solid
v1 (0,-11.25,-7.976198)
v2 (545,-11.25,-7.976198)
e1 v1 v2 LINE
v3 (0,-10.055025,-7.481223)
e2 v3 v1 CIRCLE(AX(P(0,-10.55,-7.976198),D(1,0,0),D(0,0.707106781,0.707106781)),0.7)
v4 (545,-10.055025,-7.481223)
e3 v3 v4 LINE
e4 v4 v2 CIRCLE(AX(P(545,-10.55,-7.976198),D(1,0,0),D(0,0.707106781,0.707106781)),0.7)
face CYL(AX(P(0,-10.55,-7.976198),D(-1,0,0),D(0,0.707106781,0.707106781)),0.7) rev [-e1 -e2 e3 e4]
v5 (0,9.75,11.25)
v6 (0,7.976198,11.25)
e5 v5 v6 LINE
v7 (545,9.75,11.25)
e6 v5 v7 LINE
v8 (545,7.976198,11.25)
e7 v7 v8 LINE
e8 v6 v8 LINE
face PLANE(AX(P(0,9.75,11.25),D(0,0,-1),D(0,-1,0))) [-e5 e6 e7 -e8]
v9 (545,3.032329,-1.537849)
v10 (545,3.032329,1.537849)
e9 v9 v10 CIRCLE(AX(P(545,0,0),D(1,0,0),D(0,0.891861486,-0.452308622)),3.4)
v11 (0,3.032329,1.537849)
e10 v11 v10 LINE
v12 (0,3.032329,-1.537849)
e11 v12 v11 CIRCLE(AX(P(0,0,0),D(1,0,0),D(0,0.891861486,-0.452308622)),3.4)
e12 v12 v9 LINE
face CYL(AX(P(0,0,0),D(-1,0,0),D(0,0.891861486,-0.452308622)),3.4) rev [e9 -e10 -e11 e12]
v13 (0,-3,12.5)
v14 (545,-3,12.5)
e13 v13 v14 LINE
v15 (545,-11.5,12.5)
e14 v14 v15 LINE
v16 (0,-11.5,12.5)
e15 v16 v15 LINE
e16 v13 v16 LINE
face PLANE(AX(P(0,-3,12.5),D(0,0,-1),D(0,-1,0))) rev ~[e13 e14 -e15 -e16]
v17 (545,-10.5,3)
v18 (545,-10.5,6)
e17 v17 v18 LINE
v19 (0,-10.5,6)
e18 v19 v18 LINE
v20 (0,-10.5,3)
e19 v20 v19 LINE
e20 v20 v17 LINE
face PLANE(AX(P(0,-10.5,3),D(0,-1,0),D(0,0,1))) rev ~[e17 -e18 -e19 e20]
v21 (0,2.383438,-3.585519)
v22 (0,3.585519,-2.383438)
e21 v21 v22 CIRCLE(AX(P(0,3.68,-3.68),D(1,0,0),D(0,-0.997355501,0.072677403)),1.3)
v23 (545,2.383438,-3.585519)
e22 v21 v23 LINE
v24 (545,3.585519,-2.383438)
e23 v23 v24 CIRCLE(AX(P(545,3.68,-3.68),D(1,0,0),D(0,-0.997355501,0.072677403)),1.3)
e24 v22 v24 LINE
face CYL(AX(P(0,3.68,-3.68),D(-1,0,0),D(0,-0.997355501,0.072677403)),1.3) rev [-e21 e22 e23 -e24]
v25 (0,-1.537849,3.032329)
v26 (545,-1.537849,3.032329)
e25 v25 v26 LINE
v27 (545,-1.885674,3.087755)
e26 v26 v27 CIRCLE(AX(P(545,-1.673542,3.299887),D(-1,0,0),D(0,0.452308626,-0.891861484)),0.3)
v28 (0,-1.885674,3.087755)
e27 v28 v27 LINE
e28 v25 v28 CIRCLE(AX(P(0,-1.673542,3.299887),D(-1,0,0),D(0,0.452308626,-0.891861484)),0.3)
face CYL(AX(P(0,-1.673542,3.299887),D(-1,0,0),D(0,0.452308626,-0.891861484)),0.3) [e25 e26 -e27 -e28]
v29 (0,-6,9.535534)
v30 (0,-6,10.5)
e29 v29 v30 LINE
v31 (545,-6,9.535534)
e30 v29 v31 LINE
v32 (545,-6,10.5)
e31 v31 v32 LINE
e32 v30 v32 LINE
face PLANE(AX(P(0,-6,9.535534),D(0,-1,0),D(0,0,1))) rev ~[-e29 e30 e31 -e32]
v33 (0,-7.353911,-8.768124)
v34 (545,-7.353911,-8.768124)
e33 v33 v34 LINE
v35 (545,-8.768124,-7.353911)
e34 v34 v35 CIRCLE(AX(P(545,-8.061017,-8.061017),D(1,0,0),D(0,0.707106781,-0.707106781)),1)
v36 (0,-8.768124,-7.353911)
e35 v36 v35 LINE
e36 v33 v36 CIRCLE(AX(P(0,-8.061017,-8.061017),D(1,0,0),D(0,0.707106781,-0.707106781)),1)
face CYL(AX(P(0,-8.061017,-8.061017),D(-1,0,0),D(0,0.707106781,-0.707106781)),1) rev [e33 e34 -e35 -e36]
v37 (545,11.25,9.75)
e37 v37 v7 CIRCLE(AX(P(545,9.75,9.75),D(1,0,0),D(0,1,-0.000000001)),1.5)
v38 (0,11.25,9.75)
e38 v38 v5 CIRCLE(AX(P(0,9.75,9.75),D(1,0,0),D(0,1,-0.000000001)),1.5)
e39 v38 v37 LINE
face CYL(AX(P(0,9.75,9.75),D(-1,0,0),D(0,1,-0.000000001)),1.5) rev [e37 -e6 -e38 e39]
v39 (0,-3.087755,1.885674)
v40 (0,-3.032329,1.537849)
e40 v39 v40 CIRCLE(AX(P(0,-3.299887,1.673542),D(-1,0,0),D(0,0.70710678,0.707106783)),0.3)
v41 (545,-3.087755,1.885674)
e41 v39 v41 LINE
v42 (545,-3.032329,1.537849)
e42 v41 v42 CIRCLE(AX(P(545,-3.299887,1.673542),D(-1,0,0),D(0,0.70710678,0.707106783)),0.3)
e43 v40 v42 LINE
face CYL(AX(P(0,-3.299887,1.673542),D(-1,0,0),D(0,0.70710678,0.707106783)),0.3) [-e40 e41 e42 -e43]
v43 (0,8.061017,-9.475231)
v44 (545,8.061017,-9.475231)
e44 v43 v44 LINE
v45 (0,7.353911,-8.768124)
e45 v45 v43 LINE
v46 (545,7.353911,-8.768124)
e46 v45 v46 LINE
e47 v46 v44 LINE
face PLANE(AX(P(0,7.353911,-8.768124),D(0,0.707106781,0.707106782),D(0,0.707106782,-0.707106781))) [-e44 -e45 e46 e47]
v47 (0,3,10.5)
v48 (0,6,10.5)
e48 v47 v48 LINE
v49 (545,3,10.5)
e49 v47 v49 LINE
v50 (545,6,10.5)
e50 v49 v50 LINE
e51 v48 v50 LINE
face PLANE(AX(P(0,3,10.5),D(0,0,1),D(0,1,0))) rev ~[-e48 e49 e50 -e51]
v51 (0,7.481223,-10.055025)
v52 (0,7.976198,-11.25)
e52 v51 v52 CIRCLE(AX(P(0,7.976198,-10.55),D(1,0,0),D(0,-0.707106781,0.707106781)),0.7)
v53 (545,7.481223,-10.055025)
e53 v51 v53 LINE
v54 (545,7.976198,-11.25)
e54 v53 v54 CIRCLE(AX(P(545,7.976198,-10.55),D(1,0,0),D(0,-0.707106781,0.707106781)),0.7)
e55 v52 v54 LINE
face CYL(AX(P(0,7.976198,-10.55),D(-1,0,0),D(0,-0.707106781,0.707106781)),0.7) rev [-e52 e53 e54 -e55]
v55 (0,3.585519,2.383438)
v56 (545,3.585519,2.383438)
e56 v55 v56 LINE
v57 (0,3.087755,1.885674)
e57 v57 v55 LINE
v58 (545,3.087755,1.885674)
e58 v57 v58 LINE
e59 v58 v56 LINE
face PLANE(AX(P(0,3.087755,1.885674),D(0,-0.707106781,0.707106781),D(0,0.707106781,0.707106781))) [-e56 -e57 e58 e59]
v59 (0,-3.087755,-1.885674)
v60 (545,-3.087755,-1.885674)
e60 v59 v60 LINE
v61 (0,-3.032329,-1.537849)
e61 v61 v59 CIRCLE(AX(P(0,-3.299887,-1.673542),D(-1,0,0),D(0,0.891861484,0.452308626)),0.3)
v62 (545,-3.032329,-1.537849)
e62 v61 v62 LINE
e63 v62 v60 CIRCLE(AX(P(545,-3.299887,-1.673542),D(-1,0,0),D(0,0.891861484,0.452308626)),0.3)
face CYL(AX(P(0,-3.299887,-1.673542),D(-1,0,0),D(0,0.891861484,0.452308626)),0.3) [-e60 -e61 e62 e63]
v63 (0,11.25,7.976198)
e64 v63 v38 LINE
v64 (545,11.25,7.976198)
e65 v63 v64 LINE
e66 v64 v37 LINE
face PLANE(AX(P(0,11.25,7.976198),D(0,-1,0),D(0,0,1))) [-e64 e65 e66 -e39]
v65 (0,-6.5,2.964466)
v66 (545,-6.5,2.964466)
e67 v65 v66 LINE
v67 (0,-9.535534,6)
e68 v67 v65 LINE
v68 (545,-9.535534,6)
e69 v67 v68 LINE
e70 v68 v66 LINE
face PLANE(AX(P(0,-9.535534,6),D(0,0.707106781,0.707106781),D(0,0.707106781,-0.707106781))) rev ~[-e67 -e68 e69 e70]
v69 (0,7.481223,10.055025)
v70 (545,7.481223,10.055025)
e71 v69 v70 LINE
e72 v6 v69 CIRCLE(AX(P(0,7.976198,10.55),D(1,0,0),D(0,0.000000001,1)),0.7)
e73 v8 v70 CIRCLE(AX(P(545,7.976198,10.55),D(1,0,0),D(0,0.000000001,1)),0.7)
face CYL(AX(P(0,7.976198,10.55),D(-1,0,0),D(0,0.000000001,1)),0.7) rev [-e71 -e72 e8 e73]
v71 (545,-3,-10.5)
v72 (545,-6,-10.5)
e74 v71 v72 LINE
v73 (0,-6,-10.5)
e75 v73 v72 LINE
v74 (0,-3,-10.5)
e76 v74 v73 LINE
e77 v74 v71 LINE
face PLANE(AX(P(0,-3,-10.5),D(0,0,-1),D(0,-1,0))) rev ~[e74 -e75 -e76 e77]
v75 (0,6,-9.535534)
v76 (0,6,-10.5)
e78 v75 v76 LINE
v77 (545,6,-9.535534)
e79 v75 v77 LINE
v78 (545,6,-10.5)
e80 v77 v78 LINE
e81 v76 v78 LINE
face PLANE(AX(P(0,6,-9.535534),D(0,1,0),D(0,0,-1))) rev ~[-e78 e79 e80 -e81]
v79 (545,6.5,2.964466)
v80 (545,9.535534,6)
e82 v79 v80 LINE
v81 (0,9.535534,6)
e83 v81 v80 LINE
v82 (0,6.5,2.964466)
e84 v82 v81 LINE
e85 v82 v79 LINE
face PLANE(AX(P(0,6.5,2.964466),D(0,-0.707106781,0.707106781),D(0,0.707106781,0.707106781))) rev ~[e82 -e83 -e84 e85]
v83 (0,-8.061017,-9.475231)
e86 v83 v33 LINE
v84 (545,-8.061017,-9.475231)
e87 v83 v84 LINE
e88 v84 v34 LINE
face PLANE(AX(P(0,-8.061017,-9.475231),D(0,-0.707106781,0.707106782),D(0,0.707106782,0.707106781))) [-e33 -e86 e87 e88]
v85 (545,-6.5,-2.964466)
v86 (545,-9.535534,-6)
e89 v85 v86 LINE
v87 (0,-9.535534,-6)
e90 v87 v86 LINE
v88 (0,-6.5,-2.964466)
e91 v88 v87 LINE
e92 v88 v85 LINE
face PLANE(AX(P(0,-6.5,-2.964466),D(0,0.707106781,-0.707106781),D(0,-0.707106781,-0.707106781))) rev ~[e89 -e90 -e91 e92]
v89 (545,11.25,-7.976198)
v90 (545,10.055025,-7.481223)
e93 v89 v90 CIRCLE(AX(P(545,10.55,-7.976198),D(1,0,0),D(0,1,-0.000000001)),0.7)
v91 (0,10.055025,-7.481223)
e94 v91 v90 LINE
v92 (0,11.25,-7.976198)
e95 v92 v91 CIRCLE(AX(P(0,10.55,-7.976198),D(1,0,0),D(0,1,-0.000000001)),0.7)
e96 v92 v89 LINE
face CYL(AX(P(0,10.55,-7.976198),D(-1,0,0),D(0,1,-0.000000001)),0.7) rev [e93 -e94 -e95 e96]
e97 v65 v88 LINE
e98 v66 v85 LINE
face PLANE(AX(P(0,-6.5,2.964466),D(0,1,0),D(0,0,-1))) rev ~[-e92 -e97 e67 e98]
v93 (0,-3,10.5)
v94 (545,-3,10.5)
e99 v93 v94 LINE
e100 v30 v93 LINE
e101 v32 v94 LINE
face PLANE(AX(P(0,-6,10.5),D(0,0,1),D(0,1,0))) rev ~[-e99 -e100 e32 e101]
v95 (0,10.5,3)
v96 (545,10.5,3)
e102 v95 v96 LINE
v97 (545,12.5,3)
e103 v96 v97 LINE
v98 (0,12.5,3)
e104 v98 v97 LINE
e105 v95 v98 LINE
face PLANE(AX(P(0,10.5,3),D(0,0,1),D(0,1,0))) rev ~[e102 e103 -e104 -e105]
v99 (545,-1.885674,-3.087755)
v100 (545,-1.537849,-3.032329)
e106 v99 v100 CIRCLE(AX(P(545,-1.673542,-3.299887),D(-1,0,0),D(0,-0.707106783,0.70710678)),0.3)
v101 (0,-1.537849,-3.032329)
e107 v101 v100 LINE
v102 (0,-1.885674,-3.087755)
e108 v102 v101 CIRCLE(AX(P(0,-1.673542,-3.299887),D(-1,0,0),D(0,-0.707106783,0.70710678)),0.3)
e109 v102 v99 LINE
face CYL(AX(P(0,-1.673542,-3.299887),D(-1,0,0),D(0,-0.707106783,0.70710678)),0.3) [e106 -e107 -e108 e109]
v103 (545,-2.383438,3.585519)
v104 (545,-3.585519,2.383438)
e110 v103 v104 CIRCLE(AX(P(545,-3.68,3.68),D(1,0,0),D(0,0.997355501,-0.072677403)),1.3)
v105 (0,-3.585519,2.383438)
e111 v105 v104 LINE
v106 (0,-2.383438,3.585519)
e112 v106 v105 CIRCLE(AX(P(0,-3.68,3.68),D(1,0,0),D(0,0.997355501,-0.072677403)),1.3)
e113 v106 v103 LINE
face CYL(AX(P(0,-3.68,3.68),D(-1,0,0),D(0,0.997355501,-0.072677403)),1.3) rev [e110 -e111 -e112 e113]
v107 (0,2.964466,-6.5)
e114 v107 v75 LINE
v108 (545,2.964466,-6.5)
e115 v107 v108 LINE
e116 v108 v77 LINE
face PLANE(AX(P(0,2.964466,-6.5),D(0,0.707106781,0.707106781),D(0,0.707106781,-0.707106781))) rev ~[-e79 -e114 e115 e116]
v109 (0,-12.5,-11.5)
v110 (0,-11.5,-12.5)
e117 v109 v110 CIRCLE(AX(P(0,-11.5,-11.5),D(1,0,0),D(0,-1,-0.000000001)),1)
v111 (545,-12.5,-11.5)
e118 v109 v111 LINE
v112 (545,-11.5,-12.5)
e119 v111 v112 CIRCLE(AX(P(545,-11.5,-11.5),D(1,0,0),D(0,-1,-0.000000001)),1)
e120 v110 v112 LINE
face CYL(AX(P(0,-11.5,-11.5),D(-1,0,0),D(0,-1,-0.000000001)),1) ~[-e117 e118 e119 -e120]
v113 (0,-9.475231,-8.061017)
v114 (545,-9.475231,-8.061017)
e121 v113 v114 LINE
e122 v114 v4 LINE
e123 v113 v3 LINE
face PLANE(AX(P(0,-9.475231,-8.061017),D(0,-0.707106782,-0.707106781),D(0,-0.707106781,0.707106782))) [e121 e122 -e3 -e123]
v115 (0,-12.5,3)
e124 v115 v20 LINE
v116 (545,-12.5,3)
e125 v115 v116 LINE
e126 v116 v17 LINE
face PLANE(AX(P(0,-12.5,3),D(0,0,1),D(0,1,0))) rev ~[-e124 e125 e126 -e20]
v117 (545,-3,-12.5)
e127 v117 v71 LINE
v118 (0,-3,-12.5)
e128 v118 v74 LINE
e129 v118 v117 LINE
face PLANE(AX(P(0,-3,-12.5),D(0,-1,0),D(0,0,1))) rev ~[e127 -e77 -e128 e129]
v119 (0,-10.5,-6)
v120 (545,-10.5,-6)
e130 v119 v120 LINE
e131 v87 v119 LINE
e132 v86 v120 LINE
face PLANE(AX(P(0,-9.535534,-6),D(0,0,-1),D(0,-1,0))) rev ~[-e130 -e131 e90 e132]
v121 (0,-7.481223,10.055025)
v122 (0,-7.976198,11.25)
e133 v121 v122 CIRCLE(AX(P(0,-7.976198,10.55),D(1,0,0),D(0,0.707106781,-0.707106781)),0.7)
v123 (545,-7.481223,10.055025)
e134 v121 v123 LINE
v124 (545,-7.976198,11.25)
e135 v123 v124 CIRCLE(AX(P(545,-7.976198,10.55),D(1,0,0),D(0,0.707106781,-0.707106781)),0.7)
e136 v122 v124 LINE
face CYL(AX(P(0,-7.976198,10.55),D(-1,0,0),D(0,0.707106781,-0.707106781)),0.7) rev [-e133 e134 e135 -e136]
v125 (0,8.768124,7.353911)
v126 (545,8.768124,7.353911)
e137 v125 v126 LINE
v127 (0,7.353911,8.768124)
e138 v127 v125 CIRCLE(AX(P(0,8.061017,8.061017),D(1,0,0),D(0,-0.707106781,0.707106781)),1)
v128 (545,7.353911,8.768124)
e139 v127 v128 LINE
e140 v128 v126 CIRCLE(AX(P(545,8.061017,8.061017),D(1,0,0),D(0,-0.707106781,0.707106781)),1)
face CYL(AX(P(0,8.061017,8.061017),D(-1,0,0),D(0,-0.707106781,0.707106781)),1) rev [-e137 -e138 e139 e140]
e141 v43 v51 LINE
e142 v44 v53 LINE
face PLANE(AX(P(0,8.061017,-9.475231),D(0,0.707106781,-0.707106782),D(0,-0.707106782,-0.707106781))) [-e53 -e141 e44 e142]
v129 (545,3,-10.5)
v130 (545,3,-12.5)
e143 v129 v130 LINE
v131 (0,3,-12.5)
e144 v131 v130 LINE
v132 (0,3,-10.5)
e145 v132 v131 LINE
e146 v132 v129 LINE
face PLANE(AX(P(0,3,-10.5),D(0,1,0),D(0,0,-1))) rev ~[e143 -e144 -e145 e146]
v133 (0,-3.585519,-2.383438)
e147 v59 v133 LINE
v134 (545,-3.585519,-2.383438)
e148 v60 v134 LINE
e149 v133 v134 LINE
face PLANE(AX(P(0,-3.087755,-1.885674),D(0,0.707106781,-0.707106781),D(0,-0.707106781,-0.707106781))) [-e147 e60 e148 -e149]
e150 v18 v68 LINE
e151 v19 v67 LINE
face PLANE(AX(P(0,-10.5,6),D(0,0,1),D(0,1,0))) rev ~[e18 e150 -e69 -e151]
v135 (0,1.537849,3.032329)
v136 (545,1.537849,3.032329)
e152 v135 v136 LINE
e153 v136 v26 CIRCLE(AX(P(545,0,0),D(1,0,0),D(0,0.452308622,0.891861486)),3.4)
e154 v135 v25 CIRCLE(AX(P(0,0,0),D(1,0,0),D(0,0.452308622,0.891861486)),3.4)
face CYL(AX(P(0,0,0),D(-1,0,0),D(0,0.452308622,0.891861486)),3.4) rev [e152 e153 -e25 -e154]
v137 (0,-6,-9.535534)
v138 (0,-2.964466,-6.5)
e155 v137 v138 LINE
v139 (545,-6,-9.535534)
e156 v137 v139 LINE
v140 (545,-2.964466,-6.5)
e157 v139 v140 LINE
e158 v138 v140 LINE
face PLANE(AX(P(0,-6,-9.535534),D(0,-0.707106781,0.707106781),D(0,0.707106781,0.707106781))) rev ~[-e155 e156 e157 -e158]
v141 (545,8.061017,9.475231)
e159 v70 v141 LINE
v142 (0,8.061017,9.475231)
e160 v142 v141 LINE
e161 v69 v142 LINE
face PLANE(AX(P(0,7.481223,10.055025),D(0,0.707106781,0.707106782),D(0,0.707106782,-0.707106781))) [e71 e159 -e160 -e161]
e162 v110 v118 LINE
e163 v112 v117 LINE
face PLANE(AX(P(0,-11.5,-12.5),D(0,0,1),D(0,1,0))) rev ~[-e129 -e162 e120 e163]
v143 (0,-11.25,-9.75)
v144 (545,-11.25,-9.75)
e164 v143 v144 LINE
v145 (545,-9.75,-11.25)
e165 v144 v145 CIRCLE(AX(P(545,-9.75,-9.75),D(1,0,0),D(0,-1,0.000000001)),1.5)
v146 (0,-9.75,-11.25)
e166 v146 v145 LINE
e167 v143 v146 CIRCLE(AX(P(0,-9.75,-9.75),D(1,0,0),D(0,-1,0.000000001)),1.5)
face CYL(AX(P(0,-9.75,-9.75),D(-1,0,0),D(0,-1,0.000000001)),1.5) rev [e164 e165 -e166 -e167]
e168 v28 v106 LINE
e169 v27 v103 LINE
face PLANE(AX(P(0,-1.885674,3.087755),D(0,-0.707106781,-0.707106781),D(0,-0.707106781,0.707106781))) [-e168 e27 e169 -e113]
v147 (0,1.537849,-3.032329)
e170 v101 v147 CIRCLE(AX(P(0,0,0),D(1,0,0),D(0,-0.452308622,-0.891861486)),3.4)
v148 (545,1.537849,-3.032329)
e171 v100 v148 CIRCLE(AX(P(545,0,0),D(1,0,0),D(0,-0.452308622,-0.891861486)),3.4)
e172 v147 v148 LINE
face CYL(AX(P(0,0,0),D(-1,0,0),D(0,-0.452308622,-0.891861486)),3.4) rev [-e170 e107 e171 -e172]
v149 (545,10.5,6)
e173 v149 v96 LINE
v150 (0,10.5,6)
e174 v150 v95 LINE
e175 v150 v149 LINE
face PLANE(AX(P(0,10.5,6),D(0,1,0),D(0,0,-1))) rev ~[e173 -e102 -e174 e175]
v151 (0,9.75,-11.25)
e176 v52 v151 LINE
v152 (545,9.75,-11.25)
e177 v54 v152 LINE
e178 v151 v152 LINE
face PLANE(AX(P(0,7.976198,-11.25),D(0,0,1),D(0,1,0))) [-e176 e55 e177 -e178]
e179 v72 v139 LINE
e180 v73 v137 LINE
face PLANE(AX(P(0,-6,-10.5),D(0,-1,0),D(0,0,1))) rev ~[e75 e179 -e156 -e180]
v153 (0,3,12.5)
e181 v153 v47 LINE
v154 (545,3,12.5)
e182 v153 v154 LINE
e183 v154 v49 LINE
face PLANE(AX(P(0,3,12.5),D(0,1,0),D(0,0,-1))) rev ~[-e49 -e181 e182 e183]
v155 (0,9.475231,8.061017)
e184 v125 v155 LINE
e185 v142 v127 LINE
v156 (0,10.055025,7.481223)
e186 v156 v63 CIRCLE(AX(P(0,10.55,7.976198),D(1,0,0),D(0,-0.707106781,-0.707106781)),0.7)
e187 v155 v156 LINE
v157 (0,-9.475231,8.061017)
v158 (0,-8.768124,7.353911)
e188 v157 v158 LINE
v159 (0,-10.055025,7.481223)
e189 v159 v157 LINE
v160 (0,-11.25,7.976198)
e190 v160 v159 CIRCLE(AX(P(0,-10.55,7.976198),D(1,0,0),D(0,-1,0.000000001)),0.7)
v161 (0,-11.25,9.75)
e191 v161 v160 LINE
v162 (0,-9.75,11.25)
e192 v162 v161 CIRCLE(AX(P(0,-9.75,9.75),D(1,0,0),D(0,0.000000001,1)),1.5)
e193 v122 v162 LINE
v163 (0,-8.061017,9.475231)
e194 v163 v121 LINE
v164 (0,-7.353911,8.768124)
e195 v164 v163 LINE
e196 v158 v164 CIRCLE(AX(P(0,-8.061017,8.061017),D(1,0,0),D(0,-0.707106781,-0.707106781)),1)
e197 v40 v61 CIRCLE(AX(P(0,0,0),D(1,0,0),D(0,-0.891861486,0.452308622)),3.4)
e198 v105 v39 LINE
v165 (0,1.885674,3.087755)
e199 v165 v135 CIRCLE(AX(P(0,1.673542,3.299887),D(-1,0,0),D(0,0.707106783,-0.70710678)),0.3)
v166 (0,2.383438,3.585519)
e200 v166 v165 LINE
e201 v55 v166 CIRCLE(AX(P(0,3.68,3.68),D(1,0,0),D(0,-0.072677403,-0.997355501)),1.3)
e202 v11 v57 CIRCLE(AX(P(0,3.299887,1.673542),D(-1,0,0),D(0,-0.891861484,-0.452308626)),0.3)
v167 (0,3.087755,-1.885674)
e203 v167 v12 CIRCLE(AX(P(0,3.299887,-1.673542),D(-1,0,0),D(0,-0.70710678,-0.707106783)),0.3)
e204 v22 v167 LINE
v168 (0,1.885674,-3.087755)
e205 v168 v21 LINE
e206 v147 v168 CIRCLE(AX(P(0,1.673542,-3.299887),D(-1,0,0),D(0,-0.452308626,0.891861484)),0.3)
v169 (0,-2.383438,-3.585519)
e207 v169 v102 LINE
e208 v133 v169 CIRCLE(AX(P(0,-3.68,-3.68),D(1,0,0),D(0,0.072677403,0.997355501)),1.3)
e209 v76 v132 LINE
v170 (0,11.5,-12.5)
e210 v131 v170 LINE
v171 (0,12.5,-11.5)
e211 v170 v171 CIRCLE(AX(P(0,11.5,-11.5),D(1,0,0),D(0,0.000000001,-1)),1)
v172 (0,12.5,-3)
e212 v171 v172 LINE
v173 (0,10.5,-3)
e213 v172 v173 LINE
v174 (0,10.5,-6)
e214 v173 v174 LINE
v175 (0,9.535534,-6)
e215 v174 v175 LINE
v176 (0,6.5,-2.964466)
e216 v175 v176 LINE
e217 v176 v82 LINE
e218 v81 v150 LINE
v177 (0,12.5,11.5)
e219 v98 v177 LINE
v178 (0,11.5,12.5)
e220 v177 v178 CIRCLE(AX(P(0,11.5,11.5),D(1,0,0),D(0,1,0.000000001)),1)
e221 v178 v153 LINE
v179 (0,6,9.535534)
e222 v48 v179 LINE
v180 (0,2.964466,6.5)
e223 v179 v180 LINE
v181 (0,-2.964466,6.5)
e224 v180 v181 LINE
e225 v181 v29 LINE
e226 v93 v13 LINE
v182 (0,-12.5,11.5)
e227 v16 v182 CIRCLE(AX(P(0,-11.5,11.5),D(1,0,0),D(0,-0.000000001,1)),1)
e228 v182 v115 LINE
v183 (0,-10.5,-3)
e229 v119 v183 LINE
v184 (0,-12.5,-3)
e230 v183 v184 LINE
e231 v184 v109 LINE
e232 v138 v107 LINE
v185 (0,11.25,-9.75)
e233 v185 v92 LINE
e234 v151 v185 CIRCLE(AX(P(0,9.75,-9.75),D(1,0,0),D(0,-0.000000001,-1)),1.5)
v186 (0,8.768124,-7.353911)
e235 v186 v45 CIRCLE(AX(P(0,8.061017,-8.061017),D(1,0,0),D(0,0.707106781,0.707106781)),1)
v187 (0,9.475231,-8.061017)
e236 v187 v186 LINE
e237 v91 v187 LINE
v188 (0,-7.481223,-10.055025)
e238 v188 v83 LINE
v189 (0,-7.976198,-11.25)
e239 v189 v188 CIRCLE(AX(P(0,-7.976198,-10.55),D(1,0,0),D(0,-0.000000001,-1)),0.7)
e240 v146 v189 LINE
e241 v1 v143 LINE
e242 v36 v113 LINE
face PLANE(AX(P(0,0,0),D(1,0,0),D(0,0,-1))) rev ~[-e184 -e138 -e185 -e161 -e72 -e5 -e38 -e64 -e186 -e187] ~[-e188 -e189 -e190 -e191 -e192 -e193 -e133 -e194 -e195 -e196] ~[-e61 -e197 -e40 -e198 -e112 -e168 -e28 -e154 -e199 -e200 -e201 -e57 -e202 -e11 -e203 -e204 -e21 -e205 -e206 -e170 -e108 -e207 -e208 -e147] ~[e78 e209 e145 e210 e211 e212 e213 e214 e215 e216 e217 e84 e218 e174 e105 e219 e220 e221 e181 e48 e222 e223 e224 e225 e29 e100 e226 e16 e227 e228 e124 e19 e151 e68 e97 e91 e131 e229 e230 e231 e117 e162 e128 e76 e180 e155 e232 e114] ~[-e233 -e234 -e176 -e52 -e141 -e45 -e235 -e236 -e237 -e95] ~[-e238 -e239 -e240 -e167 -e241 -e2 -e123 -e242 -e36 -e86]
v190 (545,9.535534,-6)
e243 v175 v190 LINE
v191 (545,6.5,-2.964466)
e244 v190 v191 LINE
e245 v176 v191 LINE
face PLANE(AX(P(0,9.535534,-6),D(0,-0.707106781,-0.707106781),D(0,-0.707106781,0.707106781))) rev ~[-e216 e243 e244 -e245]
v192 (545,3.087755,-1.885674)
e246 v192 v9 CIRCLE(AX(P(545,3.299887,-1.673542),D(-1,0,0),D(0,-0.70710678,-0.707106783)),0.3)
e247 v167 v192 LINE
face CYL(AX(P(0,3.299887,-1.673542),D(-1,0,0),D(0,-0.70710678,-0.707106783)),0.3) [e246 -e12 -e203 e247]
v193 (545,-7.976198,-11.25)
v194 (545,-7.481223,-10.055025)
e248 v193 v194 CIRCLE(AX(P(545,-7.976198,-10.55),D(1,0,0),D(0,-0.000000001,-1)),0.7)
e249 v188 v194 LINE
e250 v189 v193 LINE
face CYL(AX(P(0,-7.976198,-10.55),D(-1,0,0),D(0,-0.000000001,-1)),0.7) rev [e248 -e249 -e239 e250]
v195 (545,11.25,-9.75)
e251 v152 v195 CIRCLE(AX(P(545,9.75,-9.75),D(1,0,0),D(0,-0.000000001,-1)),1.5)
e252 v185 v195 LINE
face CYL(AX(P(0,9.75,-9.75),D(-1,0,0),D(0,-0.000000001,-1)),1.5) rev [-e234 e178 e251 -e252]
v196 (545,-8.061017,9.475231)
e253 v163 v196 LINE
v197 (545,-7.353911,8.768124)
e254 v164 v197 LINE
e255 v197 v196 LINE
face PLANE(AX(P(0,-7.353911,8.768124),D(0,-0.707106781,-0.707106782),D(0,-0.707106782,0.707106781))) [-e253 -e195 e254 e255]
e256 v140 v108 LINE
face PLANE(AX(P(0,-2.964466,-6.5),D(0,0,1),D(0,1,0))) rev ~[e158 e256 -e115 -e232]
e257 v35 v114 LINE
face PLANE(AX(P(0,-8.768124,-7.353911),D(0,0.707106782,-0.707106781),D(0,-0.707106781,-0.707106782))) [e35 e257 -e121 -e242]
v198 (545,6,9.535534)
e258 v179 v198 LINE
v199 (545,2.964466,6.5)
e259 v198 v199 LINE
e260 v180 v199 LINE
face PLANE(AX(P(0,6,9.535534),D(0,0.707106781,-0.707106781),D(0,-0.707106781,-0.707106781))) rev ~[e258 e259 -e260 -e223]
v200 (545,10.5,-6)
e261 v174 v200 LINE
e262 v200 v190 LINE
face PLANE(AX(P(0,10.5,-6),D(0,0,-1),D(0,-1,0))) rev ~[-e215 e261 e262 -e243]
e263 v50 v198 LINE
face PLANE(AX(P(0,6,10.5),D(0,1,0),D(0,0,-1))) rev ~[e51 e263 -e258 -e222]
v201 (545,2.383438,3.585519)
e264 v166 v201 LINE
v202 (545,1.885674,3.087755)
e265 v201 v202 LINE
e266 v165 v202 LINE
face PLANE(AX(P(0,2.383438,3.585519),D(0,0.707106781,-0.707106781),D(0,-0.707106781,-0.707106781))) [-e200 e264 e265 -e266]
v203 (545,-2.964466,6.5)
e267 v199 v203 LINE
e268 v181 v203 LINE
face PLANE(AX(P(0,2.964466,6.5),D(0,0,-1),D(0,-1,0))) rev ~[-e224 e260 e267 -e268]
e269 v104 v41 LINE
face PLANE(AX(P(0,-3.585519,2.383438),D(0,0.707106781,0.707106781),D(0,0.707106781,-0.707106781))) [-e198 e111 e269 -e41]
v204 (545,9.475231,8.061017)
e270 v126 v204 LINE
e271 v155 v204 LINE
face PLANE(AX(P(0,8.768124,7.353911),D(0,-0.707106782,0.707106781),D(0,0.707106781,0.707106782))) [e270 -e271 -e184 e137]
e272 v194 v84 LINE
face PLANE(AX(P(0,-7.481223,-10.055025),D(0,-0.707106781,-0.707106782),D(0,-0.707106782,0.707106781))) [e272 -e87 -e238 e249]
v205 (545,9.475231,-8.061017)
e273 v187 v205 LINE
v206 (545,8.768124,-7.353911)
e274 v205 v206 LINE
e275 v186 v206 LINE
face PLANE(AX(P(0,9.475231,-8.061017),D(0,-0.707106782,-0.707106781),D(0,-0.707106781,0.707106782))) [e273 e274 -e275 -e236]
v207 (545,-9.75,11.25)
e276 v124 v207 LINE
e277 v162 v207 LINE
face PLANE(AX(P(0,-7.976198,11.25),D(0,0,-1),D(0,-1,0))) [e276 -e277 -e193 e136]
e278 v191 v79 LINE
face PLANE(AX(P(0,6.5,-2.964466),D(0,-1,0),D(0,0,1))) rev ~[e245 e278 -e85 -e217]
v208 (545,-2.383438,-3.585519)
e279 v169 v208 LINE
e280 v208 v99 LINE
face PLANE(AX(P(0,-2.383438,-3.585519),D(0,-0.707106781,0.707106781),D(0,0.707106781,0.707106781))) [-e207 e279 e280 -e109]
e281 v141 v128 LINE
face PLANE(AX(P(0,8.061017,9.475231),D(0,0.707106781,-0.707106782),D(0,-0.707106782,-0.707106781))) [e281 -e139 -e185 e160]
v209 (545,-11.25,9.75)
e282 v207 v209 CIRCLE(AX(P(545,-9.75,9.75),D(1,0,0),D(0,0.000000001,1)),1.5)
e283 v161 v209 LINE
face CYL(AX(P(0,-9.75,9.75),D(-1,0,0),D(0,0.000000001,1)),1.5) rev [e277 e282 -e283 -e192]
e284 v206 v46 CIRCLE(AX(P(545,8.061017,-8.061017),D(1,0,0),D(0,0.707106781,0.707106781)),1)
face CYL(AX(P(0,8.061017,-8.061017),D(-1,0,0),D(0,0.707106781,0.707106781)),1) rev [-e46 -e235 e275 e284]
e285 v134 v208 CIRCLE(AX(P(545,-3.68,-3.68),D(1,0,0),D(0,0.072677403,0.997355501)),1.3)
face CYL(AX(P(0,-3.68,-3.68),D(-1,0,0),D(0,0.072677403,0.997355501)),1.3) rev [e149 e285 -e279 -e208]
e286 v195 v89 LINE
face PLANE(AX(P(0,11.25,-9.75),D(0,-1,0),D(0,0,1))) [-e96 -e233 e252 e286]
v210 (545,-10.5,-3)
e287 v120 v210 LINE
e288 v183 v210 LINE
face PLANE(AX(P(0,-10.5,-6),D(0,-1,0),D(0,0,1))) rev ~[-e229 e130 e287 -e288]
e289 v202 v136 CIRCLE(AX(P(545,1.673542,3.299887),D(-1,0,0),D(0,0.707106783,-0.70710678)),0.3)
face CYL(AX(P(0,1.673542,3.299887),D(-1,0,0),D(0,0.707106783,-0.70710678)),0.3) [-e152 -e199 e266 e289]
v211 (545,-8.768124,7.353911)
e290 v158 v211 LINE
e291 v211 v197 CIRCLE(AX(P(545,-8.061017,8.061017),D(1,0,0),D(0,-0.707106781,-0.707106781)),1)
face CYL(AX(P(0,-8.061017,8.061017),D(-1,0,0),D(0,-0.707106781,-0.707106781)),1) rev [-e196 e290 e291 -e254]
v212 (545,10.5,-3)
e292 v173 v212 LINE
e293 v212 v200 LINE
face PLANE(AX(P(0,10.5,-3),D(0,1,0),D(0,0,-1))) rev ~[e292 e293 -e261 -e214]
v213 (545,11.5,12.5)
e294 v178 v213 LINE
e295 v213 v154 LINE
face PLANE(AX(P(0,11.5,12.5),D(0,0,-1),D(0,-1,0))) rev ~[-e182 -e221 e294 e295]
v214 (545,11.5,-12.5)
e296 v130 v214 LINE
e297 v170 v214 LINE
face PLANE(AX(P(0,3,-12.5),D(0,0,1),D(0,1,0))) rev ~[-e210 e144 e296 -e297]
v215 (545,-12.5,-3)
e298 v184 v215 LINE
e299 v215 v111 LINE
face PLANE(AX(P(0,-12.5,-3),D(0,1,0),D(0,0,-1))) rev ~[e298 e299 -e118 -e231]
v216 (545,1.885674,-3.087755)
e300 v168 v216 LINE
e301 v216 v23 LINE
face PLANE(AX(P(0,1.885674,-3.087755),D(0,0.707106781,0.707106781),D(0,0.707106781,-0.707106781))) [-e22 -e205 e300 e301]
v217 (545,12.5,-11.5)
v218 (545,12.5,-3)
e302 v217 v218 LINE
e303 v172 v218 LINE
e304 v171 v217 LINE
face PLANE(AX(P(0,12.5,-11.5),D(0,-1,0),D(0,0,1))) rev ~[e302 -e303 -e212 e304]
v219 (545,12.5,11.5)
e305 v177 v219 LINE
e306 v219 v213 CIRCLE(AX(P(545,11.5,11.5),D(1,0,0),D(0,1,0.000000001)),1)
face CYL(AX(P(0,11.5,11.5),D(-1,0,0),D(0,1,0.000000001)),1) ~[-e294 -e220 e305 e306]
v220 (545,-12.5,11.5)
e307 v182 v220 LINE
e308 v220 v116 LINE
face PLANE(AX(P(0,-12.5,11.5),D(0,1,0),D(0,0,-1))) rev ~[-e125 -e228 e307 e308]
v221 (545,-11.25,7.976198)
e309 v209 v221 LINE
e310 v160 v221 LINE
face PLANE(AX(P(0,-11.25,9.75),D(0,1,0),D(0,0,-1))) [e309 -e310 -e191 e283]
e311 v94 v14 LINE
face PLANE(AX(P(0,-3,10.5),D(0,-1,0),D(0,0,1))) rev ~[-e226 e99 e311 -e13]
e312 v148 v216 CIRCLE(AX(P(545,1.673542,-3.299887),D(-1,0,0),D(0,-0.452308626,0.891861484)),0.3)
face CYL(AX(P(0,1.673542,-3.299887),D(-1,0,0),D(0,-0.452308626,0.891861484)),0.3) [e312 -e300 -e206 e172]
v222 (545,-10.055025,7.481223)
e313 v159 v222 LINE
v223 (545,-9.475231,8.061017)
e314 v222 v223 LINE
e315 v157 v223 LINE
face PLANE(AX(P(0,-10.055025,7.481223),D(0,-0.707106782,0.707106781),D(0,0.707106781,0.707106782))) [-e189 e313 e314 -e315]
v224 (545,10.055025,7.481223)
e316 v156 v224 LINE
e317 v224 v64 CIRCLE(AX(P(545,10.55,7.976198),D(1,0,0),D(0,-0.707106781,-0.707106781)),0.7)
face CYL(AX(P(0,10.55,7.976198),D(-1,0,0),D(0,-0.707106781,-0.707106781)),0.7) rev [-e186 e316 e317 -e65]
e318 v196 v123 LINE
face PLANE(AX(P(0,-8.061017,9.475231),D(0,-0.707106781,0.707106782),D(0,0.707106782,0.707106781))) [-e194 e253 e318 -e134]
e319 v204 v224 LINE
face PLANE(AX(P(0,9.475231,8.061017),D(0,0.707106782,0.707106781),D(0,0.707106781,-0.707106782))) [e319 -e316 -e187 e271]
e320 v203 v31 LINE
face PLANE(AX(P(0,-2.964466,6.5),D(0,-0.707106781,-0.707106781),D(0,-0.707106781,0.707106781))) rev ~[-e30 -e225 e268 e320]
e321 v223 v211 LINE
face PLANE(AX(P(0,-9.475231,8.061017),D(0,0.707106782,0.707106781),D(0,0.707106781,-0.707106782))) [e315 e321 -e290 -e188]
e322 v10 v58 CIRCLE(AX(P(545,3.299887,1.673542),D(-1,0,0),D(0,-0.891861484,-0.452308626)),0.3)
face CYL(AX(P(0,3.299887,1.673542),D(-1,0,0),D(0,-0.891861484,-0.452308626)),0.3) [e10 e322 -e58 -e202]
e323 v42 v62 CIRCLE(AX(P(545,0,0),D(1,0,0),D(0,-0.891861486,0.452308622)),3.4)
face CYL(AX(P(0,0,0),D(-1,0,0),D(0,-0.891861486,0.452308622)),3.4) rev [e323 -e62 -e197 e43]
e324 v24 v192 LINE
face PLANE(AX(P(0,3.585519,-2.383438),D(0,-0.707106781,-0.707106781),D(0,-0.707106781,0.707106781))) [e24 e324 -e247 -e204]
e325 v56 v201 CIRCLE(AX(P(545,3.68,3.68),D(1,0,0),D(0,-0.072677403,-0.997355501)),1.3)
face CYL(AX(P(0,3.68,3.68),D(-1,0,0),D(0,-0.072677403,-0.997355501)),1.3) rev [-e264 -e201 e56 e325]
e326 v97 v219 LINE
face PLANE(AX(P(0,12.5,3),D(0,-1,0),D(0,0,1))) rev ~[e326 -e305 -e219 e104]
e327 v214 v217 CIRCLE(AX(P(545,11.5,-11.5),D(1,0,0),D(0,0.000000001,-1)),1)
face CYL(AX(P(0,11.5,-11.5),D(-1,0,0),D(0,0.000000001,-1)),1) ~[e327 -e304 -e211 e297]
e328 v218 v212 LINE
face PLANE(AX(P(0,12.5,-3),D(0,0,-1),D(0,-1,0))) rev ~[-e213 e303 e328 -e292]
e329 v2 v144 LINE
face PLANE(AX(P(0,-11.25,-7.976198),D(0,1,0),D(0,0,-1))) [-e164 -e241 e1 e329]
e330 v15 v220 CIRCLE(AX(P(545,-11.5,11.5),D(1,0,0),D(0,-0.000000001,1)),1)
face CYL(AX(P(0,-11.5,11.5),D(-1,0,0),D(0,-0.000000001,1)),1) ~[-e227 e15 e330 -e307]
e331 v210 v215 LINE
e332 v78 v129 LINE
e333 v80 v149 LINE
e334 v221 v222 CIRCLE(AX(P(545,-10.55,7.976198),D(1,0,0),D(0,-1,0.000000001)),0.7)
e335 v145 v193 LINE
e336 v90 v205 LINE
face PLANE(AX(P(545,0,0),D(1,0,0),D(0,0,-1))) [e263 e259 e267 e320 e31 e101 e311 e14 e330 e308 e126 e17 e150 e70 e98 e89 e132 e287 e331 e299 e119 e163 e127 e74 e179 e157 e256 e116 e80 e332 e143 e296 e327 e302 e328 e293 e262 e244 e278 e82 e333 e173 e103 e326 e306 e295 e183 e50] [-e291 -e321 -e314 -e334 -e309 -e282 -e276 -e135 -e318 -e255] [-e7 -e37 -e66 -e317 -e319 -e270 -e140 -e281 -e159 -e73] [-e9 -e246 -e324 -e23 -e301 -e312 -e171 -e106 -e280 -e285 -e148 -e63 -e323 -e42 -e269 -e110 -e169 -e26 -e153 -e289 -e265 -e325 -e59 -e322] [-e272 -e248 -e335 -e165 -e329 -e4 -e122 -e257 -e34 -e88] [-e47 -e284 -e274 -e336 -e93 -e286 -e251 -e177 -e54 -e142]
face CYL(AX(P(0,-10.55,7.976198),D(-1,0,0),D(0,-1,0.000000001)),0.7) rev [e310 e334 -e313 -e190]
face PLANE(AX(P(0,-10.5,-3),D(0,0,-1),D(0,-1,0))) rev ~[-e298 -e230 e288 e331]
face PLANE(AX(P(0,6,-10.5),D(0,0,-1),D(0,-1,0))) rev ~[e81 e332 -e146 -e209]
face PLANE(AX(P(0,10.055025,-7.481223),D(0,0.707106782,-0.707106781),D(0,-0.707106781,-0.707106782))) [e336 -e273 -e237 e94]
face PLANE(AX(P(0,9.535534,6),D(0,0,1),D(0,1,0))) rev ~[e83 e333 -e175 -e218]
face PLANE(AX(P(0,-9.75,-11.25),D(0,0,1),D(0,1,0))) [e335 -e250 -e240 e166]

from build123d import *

# Parameters (mm, degrees)
BOSS_EXTRUDE1_DEPTH = 545


with BuildPart() as part:
    # Sketch1 → Boss-Extrude1 (new body)
    with BuildSketch(Plane(origin=(0, 0, 0), x_dir=(0, 0, -1), z_dir=(1, 0, 0))):
        with BuildLine():
            Line((-12.5, 11.5), (-12.5, 3))
            Line((-12.5, 3), (-10.5, 3))
            Line((-10.5, 3), (-10.5, 6))
            Line((-10.5, 6), (-9.535533906, 6))
            Line((-9.535533906, 6), (-6.5, 2.964466094))
            Line((-6.5, 2.964466094), (-6.5, -2.964466094))
            Line((-6.5, -2.964466094), (-9.535533906, -6))
            Line((-9.535533906, -6), (-10.5, -6))
            Line((-10.5, -6), (-10.5, -3))
            Line((-10.5, -3), (-12.5, -3))
            Line((-12.5, -3), (-12.5, -11.5))
            ThreePointArc((-12.5, -11.5), (-12.207106781, -12.207106781), (-11.5, -12.5))
            Line((-11.5, -12.5), (-3, -12.5))
            Line((-3, -12.5), (-3, -10.5))
            Line((-3, -10.5), (-6, -10.5))
            Line((-6, -10.5), (-6, -9.535533906))
            Line((-6, -9.535533906), (-2.964466094, -6.5))
            Line((-2.964466094, -6.5), (2.964466094, -6.5))
            Line((2.964466094, -6.5), (6, -9.535533906))
            Line((6, -9.535533906), (6, -10.5))
            Line((6, -10.5), (3, -10.5))
            Line((3, -10.5), (3, -12.5))
            Line((3, -12.5), (11.5, -12.5))
            ThreePointArc((11.5, -12.5), (12.207106781, -12.207106781), (12.5, -11.5))
            Line((12.5, -11.5), (12.5, -3))
            Line((12.5, -3), (10.5, -3))
            Line((10.5, -3), (10.5, -6))
            Line((10.5, -6), (9.535533906, -6))
            Line((9.535533906, -6), (6.5, -2.964466094))
            Line((6.5, -2.964466094), (6.5, 2.964466094))
            Line((6.5, 2.964466094), (9.535533906, 6))
            Line((9.535533906, 6), (10.5, 6))
            Line((10.5, 6), (10.5, 3))
            Line((10.5, 3), (12.5, 3))
            Line((12.5, 3), (12.5, 11.5))
            ThreePointArc((12.5, 11.5), (12.207106781, 12.207106781), (11.5, 12.5))
            Line((11.5, 12.5), (3, 12.5))
            Line((3, 12.5), (3, 10.5))
            Line((3, 10.5), (6, 10.5))
            Line((6, 10.5), (6, 9.535533906))
            Line((6, 9.535533906), (2.964466094, 6.5))
            Line((2.964466094, 6.5), (-2.964466094, 6.5))
            Line((-2.964466094, 6.5), (-6, 9.535533906))
            Line((-6, 9.535533906), (-6, 10.5))
            Line((-6, 10.5), (-3, 10.5))
            Line((-3, 10.5), (-3, 12.5))
            Line((-3, 12.5), (-11.5, 12.5))
            ThreePointArc((-11.5, 12.5), (-12.207106781, 12.207106781), (-12.5, 11.5))
        make_face()
        with BuildLine():
            Line((-3.087755464, -1.885673936), (-3.585519377, -2.383437849))
            ThreePointArc((-3.585519377, -2.383437849), (-4.599238816, -4.599238816), (-2.383437849, -3.585519377))
            Line((-2.383437849, -3.585519377), (-1.885673936, -3.087755464))
            ThreePointArc((-1.885673936, -3.087755464), (-1.720751743, -3.0036254), (-1.537849315, -3.032329053))
            ThreePointArc((-1.537849315, -3.032329053), (0, -3.4), (1.537849315, -3.032329053))
            ThreePointArc((1.537849315, -3.032329053), (1.720751743, -3.0036254), (1.885673936, -3.087755464))
            Line((1.885673936, -3.087755464), (2.383437849, -3.585519377))
            ThreePointArc((2.383437849, -3.585519377), (4.599238816, -4.599238816), (3.585519377, -2.383437849))
            Line((3.585519377, -2.383437849), (3.087755464, -1.885673936))
            ThreePointArc((3.087755464, -1.885673936), (3.0036254, -1.720751743), (3.032329053, -1.537849315))
            ThreePointArc((3.032329053, -1.537849315), (3.4, 0), (3.032329053, 1.537849315))
            ThreePointArc((3.032329053, 1.537849315), (3.0036254, 1.720751743), (3.087755464, 1.885673936))
            Line((3.087755464, 1.885673936), (3.585519377, 2.383437849))
            ThreePointArc((3.585519377, 2.383437849), (4.599238816, 4.599238816), (2.383437849, 3.585519377))
            Line((2.383437849, 3.585519377), (1.885673936, 3.087755464))
            ThreePointArc((1.885673936, 3.087755464), (1.720751743, 3.0036254), (1.537849315, 3.032329053))
            ThreePointArc((1.537849315, 3.032329053), (0, 3.4), (-1.537849315, 3.032329053))
            ThreePointArc((-1.537849315, 3.032329053), (-1.720751743, 3.0036254), (-1.885673936, 3.087755464))
            Line((-1.885673936, 3.087755464), (-2.383437849, 3.585519377))
            ThreePointArc((-2.383437849, 3.585519377), (-4.599238816, 4.599238816), (-3.585519377, 2.383437849))
            Line((-3.585519377, 2.383437849), (-3.087755464, 1.885673936))
            ThreePointArc((-3.087755464, 1.885673936), (-3.0036254, 1.720751743), (-3.032329053, 1.537849315))
            ThreePointArc((-3.032329053, 1.537849315), (-3.4, 0), (-3.032329053, -1.537849315))
            ThreePointArc((-3.032329053, -1.537849315), (-3.0036254, -1.720751743), (-3.087755464, -1.885673936))
        make_face(mode=Mode.SUBTRACT)
        with BuildLine():
            Line((-11.25, 9.75), (-11.25, 7.976197667))
            ThreePointArc((-11.25, 7.976197667), (-10.817878403, 7.329481994), (-10.055025253, 7.48122292))
            Line((-10.055025253, 7.48122292), (-9.475230868, 8.061017306))
            Line((-9.475230868, 8.061017306), (-8.768124087, 7.353910524))
            ThreePointArc((-8.768124087, 7.353910524), (-7.353910524, 7.353910524), (-7.353910524, 8.768124087))
            Line((-7.353910524, 8.768124087), (-8.061017306, 9.475230868))
            Line((-8.061017306, 9.475230868), (-7.48122292, 10.055025253))
            ThreePointArc((-7.48122292, 10.055025253), (-7.329481994, 10.817878403), (-7.976197667, 11.25))
            Line((-7.976197667, 11.25), (-9.75, 11.25))
            ThreePointArc((-9.75, 11.25), (-10.810660172, 10.810660172), (-11.25, 9.75))
        make_face(mode=Mode.SUBTRACT)
        with BuildLine():
            Line((8.061017306, 9.475230868), (7.353910524, 8.768124087))
            ThreePointArc((7.353910524, 8.768124087), (7.353910524, 7.353910524), (8.768124087, 7.353910524))
            Line((8.768124087, 7.353910524), (9.475230868, 8.061017306))
            Line((9.475230868, 8.061017306), (10.055025253, 7.48122292))
            ThreePointArc((10.055025253, 7.48122292), (10.817878403, 7.329481994), (11.25, 7.976197667))
            Line((11.25, 7.976197667), (11.25, 9.75))
            ThreePointArc((11.25, 9.75), (10.810660172, 10.810660172), (9.75, 11.25))
            Line((9.75, 11.25), (7.976197667, 11.25))
            ThreePointArc((7.976197667, 11.25), (7.329481994, 10.817878403), (7.48122292, 10.055025253))
            Line((7.48122292, 10.055025253), (8.061017306, 9.475230868))
        make_face(mode=Mode.SUBTRACT)
        with BuildLine():
            Line((-9.475230868, -8.061017306), (-10.055025253, -7.48122292))
            ThreePointArc((-10.055025253, -7.48122292), (-10.817878403, -7.329481994), (-11.25, -7.976197667))
            Line((-11.25, -7.976197667), (-11.25, -9.75))
            ThreePointArc((-11.25, -9.75), (-10.810660172, -10.810660172), (-9.75, -11.25))
            Line((-9.75, -11.25), (-7.976197667, -11.25))
            ThreePointArc((-7.976197667, -11.25), (-7.329481994, -10.817878403), (-7.48122292, -10.055025253))
            Line((-7.48122292, -10.055025253), (-8.061017306, -9.475230868))
            Line((-8.061017306, -9.475230868), (-7.353910524, -8.768124087))
            ThreePointArc((-7.353910524, -8.768124087), (-7.353910524, -7.353910524), (-8.768124087, -7.353910524))
            Line((-8.768124087, -7.353910524), (-9.475230868, -8.061017306))
        make_face(mode=Mode.SUBTRACT)
        with BuildLine():
            Line((9.475230868, -8.061017306), (8.768124087, -7.353910524))
            ThreePointArc((8.768124087, -7.353910524), (7.353910524, -7.353910524), (7.353910524, -8.768124087))
            Line((7.353910524, -8.768124087), (8.061017306, -9.475230868))
            Line((8.061017306, -9.475230868), (7.48122292, -10.055025253))
            ThreePointArc((7.48122292, -10.055025253), (7.329481994, -10.817878403), (7.976197667, -11.25))
            Line((7.976197667, -11.25), (9.75, -11.25))
            ThreePointArc((9.75, -11.25), (10.810660172, -10.810660172), (11.25, -9.75))
            Line((11.25, -9.75), (11.25, -7.976197667))
            ThreePointArc((11.25, -7.976197667), (10.817878403, -7.329481994), (10.055025253, -7.48122292))
            Line((10.055025253, -7.48122292), (9.475230868, -8.061017306))
        make_face(mode=Mode.SUBTRACT)
    extrude(amount=BOSS_EXTRUDE1_DEPTH)


solid = part.part
